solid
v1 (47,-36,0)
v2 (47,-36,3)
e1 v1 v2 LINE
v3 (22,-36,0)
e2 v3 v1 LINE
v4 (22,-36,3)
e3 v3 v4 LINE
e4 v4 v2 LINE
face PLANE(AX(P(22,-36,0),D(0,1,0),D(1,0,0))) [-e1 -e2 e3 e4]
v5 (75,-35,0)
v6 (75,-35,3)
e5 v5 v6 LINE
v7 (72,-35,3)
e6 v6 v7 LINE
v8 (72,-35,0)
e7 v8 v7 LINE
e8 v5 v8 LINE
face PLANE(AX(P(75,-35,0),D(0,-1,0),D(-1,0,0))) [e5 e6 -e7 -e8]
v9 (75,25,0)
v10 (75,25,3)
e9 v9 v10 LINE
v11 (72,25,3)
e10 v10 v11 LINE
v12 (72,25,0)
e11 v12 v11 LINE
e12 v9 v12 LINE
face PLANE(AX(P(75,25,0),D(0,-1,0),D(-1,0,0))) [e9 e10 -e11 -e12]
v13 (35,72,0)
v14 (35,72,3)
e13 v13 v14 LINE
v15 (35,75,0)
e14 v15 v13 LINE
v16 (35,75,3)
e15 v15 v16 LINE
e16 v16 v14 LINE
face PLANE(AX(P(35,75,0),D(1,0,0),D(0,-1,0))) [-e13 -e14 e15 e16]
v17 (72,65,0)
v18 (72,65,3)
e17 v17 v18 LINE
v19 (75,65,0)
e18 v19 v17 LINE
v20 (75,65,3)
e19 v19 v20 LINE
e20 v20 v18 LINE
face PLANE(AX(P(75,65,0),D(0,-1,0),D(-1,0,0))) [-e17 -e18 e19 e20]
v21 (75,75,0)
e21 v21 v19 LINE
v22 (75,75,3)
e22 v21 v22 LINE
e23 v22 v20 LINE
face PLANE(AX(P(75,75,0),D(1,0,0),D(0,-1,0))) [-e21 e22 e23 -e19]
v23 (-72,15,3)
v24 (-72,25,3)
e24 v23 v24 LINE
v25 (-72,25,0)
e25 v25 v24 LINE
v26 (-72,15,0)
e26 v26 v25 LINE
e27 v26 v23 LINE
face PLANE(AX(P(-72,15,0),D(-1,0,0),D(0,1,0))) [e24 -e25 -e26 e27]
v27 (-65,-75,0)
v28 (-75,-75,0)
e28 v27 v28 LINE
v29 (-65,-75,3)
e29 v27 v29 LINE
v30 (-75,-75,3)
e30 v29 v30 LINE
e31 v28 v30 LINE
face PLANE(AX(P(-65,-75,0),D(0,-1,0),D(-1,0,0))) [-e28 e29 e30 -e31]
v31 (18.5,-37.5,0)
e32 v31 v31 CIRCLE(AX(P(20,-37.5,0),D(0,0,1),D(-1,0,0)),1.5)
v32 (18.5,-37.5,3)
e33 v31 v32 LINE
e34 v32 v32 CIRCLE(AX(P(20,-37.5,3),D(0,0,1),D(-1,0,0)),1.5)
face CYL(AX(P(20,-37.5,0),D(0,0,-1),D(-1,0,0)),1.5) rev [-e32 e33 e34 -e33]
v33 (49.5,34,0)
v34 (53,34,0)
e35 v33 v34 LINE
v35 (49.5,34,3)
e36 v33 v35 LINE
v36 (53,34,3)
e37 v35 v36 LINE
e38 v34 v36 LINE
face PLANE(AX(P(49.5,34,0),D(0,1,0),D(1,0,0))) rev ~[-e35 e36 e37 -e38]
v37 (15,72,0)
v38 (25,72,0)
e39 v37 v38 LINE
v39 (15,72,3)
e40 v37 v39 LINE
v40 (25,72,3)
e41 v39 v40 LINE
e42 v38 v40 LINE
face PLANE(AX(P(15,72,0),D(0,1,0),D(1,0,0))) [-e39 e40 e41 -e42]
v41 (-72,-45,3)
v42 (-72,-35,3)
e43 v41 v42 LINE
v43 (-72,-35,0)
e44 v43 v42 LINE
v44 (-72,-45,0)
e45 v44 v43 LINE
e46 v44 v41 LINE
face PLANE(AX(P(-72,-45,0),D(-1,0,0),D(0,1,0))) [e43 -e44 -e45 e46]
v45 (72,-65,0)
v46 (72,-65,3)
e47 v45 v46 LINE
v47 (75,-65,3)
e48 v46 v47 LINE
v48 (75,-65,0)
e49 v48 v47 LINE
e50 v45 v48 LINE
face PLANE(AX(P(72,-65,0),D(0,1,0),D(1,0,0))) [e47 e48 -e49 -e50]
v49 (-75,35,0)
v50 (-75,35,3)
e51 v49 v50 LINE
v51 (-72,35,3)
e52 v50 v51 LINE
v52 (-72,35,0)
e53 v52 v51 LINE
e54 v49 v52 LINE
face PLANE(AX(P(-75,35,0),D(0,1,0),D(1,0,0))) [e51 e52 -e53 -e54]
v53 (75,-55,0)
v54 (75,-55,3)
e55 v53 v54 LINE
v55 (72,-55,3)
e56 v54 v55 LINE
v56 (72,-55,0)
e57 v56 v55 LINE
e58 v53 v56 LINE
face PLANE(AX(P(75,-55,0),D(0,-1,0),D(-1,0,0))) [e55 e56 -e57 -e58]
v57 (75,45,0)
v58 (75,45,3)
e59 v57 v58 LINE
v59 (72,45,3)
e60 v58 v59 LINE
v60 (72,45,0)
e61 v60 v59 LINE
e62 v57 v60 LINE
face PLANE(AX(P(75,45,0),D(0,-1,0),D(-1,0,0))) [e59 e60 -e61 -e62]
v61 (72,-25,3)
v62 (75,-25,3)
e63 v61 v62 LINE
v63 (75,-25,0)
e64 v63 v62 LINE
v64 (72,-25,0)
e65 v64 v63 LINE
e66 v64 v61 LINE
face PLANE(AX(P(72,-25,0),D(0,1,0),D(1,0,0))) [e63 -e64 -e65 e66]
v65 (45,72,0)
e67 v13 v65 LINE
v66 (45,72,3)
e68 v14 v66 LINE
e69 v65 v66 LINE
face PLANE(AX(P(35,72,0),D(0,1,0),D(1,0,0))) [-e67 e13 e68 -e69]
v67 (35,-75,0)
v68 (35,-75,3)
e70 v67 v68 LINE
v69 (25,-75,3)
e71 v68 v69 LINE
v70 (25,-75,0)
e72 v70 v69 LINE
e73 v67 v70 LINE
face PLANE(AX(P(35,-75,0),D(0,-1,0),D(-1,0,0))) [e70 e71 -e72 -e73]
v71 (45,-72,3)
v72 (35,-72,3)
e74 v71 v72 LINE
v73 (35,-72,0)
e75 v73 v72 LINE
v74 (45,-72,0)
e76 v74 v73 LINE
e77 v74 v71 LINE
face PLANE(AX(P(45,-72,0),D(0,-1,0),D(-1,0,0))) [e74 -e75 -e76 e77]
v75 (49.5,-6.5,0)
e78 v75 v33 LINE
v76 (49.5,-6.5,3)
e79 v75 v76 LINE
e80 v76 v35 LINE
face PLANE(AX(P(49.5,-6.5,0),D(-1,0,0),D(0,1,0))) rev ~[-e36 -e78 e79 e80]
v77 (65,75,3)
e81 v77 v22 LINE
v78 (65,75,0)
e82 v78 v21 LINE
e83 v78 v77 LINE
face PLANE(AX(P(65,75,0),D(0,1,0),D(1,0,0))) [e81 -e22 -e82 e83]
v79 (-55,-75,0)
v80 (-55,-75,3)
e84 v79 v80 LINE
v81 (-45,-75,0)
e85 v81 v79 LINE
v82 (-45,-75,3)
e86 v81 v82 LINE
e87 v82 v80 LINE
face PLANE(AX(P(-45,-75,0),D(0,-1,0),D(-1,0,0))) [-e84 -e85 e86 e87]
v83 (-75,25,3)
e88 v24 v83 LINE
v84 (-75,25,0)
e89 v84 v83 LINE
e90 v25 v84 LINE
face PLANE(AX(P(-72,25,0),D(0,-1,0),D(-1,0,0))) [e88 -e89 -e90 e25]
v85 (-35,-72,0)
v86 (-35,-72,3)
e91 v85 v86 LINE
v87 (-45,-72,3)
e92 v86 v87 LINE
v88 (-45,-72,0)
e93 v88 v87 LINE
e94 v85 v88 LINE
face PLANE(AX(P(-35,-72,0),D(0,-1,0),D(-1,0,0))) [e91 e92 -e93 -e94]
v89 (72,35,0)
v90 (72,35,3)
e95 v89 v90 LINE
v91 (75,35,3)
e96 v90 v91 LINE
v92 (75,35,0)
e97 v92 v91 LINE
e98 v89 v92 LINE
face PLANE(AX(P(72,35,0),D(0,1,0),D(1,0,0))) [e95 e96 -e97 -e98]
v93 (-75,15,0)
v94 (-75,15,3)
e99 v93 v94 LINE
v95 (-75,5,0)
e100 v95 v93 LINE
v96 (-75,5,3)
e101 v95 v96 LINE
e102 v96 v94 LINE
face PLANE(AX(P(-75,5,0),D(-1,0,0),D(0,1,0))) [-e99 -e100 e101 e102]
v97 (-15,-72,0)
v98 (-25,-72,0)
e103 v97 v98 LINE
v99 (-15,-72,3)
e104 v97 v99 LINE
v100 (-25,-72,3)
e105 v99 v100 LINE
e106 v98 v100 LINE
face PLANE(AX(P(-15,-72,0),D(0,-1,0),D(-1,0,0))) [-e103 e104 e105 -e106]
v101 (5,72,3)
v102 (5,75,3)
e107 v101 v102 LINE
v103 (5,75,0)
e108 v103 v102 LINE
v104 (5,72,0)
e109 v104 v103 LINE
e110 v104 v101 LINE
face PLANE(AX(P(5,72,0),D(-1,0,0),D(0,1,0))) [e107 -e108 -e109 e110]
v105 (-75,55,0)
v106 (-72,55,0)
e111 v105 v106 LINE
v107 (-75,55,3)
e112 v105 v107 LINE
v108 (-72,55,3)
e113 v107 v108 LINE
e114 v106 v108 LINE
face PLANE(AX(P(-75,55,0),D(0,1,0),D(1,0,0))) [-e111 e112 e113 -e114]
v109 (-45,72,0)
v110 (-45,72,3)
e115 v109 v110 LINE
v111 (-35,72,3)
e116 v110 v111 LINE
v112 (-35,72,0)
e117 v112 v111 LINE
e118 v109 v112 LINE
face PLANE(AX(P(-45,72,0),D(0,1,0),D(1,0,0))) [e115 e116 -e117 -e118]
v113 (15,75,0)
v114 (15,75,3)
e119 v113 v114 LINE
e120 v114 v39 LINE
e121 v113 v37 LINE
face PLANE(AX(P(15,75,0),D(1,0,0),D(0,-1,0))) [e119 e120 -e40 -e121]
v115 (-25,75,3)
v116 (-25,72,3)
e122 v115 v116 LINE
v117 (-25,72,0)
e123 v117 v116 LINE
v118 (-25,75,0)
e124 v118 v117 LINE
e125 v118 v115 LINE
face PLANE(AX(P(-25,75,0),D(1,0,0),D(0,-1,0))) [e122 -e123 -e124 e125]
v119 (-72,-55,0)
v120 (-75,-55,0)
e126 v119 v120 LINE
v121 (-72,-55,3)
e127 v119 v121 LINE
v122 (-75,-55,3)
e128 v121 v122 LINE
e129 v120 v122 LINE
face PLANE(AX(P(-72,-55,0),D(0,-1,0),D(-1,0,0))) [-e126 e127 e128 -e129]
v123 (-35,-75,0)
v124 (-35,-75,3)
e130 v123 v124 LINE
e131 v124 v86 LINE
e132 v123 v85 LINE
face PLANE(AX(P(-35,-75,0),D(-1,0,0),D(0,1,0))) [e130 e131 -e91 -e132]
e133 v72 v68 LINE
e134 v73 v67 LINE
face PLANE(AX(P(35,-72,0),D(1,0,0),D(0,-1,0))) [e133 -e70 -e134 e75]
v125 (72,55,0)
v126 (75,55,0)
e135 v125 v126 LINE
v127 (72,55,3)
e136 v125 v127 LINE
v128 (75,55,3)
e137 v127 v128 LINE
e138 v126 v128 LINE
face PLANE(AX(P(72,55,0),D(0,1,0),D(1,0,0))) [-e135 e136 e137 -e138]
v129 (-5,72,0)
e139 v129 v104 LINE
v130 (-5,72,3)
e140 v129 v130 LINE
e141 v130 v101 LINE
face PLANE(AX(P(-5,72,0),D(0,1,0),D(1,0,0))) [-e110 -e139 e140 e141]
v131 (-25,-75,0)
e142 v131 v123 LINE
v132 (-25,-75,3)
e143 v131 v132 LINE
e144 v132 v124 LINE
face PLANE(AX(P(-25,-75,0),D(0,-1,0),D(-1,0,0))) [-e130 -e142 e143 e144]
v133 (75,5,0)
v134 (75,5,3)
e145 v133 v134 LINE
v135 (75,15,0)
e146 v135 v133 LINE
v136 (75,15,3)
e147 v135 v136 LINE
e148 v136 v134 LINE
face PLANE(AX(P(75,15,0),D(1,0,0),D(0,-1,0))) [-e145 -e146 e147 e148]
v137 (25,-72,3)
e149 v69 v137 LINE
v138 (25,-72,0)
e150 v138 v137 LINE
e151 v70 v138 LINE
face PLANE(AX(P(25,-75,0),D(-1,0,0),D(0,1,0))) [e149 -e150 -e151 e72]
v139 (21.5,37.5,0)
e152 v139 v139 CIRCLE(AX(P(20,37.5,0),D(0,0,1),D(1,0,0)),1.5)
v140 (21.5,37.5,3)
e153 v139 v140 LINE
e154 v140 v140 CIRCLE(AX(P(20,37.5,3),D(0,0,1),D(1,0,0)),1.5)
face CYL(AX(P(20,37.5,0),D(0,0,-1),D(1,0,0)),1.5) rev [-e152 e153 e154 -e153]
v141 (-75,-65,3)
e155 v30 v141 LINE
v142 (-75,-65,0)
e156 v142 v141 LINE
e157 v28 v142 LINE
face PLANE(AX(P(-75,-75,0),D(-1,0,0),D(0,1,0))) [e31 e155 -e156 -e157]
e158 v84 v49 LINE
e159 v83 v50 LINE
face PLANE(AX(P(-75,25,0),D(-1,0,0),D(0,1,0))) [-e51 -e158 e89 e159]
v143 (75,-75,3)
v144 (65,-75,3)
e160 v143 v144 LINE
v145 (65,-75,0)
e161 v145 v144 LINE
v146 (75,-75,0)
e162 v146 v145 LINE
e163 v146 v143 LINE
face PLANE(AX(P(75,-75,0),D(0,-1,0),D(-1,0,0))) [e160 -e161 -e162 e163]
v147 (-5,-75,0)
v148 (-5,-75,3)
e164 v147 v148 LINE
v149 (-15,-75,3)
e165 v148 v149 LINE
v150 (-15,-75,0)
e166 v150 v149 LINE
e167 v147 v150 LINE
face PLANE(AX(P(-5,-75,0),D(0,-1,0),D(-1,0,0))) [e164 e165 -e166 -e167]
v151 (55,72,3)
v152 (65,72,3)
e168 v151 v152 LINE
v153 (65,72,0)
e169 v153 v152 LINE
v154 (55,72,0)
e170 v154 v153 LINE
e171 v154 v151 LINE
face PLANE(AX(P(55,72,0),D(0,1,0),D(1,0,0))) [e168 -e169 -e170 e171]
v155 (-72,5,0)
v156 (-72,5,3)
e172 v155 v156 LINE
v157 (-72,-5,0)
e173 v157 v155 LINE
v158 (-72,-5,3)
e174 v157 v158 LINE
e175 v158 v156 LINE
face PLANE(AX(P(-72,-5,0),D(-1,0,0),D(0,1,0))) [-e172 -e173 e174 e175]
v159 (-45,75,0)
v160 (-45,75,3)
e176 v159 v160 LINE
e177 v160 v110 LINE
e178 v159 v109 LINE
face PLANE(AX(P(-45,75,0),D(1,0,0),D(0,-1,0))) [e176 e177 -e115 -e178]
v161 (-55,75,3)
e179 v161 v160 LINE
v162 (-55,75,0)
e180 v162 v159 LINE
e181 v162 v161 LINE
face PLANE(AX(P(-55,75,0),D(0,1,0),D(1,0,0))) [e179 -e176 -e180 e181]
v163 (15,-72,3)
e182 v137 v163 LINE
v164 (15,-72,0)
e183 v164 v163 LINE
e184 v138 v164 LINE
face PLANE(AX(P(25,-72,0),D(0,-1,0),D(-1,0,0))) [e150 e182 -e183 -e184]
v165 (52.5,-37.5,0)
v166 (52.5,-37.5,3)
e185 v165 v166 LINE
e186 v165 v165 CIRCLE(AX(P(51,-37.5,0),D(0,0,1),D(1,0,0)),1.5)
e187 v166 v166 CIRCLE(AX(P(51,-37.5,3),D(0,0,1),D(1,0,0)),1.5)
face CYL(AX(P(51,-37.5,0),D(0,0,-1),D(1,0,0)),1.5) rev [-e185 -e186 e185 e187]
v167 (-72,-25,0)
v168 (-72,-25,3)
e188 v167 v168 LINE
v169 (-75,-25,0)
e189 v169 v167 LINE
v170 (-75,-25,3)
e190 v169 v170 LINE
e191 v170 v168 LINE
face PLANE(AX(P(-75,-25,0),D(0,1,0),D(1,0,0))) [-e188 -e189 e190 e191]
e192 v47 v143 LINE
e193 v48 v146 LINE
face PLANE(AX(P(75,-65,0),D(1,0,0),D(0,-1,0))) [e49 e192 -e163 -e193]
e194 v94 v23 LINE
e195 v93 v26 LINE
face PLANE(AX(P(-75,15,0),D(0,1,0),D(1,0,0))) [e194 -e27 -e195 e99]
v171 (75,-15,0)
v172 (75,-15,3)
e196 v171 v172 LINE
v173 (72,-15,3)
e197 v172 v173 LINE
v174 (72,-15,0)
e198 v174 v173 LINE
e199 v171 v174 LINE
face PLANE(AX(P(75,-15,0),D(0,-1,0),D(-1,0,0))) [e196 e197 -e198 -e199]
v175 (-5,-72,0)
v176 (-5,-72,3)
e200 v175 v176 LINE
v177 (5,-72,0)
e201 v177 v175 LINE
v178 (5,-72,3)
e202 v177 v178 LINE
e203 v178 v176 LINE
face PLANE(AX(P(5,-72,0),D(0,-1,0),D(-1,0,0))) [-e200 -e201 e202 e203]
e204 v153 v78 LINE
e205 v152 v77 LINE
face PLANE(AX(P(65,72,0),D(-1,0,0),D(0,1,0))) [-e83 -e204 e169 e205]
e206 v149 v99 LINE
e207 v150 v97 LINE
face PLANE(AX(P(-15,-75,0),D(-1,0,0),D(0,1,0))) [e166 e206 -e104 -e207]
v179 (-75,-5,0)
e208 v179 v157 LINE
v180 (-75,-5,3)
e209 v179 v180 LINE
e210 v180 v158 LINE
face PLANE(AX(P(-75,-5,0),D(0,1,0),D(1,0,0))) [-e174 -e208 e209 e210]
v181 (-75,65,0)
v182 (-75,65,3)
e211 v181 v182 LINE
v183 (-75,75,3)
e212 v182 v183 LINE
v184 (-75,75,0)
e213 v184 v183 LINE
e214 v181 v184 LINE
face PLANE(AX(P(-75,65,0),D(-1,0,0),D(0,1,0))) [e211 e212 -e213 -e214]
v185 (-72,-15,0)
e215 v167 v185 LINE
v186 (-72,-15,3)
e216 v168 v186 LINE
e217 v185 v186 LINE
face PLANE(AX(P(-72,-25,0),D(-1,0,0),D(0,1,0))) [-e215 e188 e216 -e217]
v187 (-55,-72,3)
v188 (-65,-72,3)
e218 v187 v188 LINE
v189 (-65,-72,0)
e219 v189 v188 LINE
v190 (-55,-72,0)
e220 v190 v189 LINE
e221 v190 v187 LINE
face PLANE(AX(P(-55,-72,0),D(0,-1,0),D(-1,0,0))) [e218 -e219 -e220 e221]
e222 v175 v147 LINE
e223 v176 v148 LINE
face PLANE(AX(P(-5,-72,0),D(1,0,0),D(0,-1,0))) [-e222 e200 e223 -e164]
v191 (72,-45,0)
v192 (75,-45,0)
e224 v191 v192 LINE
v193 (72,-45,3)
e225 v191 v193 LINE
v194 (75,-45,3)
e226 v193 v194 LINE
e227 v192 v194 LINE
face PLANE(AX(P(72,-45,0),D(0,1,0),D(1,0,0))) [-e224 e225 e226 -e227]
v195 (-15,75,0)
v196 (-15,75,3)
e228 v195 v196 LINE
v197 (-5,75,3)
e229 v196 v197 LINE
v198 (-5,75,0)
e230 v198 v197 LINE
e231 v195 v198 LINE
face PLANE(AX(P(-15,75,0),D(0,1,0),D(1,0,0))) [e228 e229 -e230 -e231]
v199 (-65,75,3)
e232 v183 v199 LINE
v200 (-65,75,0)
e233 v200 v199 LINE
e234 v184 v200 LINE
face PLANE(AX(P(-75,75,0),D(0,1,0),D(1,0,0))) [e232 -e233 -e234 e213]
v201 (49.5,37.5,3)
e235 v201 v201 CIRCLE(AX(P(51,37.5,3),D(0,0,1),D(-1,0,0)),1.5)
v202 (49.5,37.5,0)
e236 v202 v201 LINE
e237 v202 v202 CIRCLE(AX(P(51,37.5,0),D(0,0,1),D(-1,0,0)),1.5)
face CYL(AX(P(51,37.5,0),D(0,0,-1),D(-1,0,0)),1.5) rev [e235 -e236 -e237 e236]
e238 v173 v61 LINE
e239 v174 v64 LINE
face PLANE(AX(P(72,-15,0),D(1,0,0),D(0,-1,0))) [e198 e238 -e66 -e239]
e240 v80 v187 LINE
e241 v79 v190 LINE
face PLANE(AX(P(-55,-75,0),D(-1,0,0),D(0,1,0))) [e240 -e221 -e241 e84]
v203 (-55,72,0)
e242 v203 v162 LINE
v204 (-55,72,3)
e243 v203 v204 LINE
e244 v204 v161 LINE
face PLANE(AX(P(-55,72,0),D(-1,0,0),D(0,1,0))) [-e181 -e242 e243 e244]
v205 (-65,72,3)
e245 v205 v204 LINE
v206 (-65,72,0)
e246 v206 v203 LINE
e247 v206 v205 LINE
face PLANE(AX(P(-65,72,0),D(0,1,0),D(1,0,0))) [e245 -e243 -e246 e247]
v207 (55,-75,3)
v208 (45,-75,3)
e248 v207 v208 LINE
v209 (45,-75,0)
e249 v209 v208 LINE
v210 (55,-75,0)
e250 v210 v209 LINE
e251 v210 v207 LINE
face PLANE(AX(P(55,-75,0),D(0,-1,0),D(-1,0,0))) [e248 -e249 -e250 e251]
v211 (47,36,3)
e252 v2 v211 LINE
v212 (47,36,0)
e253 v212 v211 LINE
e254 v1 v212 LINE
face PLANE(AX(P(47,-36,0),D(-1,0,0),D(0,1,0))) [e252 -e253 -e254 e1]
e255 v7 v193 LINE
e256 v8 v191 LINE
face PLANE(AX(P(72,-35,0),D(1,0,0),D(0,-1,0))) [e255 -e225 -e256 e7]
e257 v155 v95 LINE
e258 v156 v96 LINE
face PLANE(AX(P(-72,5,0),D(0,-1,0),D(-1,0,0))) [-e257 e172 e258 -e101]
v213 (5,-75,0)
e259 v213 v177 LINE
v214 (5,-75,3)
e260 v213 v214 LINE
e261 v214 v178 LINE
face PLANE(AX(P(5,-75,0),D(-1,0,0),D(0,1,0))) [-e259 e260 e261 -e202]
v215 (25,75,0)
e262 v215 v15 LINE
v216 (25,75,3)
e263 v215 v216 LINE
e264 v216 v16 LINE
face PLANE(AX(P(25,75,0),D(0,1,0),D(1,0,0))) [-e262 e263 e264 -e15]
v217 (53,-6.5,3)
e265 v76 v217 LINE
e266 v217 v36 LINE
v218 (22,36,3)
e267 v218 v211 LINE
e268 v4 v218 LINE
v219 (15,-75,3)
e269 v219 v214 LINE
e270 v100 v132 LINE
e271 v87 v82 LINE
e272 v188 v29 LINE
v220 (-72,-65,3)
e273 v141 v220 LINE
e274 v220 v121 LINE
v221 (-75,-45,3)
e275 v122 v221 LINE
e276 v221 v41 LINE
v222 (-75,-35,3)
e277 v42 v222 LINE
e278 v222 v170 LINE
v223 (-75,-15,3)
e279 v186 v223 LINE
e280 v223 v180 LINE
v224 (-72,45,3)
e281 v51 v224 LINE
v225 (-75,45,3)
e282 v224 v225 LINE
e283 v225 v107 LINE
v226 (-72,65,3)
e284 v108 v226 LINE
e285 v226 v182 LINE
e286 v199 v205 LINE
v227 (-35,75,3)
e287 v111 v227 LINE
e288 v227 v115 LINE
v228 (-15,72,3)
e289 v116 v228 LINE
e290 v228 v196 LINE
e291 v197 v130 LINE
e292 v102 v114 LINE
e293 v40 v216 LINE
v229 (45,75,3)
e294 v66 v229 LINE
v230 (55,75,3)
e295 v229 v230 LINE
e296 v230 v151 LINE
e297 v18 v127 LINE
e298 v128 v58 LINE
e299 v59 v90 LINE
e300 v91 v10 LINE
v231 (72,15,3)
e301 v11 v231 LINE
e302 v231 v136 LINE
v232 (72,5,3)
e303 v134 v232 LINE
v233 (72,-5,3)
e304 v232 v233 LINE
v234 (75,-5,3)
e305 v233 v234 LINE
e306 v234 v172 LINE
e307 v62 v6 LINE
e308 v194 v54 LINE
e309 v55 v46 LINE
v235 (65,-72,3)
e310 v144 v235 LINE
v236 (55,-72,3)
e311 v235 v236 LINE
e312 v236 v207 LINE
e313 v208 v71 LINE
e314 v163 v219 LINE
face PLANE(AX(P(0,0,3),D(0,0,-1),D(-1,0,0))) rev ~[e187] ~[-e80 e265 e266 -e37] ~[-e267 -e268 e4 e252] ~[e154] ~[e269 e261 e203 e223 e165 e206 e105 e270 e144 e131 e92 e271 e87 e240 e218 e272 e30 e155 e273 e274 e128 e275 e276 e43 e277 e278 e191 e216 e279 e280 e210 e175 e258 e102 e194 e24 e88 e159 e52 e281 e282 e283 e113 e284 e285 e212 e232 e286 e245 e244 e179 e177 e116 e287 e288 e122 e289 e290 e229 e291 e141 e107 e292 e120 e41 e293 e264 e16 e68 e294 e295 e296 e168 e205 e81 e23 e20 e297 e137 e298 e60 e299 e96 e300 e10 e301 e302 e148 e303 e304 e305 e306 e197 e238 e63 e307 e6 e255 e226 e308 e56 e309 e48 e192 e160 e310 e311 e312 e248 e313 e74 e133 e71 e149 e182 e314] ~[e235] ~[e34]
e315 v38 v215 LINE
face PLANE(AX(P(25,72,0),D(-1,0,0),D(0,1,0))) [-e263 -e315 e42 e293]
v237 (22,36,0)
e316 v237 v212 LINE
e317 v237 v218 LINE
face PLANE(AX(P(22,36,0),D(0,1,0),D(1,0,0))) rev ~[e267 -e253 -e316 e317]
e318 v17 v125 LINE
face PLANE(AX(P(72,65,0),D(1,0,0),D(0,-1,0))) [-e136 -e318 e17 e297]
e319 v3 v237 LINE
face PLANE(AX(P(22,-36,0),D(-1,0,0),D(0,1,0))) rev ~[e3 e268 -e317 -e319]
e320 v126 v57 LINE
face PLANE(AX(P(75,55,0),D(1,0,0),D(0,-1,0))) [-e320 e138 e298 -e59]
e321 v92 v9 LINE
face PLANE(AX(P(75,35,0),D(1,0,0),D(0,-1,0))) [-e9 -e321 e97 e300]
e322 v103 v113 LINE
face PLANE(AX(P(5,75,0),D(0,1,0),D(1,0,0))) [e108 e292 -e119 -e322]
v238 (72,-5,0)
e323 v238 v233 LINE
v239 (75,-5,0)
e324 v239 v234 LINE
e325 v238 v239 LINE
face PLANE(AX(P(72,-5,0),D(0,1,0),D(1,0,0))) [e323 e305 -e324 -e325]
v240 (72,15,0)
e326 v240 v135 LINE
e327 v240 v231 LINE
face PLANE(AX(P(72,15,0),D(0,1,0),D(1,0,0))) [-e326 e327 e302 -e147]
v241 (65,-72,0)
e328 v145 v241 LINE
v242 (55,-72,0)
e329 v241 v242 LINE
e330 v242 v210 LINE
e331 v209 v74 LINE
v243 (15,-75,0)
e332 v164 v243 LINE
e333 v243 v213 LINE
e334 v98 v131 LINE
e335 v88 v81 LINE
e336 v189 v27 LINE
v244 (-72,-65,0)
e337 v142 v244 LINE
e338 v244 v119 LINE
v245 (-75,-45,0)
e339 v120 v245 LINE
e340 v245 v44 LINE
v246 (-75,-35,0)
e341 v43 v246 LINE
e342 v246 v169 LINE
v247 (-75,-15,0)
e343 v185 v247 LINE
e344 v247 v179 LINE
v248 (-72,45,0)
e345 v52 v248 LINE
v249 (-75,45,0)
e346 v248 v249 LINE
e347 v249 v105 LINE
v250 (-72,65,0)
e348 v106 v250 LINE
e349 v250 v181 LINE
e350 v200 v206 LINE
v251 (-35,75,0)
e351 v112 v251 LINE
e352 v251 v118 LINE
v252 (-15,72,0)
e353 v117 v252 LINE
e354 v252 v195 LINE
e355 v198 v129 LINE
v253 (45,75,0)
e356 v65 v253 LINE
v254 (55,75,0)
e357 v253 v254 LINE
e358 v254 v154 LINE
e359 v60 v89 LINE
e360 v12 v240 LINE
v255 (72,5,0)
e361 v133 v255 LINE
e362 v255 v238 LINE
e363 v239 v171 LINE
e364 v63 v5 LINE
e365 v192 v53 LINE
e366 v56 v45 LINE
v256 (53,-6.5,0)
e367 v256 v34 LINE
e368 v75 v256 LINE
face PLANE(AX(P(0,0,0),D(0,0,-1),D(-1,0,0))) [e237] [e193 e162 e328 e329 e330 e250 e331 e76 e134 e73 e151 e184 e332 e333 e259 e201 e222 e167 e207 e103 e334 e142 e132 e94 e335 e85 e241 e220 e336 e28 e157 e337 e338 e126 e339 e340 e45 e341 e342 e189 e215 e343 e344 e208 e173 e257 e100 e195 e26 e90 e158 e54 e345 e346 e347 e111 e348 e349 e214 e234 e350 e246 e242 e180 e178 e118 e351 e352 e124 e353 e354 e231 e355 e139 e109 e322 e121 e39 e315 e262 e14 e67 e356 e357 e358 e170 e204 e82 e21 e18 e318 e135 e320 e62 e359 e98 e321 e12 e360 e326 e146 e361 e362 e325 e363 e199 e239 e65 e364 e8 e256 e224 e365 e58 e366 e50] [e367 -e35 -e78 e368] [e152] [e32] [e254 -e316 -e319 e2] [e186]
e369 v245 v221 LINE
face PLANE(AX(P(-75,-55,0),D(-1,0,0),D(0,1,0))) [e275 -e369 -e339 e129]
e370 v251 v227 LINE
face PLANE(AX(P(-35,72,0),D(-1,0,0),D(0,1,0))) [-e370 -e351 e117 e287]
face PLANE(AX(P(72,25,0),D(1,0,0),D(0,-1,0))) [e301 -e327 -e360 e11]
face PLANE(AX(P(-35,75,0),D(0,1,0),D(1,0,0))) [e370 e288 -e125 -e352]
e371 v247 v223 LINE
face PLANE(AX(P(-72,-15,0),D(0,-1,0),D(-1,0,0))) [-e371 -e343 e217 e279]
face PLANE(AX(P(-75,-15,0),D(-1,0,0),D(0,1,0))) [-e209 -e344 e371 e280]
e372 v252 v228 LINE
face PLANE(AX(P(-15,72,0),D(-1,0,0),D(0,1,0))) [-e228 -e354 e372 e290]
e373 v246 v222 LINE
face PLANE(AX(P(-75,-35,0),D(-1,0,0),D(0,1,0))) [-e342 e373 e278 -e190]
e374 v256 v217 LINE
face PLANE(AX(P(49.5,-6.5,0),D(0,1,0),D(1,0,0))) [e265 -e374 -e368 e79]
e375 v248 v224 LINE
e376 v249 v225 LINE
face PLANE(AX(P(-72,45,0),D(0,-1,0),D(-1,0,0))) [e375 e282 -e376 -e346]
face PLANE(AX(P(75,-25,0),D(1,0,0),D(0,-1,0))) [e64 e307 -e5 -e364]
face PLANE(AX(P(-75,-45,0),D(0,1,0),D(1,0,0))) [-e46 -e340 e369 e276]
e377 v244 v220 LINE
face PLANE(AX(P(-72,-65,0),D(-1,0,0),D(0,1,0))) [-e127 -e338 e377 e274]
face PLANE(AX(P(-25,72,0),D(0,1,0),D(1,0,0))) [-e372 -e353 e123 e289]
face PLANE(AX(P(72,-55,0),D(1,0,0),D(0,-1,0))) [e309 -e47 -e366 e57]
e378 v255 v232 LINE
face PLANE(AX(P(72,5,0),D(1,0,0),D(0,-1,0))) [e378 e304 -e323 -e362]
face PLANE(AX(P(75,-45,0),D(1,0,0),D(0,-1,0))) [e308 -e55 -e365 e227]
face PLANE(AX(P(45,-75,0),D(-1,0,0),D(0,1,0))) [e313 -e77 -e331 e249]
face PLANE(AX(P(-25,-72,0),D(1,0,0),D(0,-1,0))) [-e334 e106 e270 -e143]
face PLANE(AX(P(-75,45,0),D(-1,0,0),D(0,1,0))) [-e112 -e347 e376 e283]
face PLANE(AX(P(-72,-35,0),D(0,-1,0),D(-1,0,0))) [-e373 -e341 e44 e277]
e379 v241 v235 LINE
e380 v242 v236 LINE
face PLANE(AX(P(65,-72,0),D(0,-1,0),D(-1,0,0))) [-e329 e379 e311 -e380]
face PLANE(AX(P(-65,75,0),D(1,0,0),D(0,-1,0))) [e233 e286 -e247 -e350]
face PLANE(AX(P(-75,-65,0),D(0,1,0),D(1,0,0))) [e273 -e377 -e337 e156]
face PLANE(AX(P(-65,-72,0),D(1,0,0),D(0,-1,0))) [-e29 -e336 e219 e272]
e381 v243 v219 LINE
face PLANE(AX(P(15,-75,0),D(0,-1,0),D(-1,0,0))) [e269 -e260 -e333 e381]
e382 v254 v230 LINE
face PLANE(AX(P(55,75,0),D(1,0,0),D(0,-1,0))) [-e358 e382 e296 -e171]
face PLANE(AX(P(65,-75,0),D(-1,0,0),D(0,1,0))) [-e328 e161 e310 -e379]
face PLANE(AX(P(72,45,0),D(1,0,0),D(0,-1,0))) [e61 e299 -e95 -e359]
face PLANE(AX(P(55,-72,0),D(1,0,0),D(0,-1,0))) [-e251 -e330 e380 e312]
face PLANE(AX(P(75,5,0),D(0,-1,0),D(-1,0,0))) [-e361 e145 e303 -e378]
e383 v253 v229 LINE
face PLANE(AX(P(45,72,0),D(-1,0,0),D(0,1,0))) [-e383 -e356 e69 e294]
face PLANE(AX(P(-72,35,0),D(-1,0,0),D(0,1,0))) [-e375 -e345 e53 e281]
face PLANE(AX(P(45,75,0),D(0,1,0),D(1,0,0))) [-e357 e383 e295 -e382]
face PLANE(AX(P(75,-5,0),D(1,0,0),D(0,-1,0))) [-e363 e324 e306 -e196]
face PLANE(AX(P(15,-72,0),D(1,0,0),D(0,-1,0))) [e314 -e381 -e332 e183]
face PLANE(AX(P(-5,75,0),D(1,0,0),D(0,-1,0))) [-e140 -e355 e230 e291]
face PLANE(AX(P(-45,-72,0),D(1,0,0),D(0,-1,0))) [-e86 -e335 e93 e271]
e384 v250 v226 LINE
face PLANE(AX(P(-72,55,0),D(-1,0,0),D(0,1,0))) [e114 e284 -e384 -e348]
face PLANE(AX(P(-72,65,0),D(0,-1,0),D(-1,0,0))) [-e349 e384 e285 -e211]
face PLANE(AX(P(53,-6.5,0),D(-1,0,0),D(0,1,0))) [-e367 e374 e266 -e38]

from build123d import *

# Parameters (mm, degrees)
CROQUIS1_R              = 1.5
CROQUIS1_W              = 25
CROQUIS1_H              = 72
CROQUIS1_W_2            = 3.5
CROQUIS1_H_2            = 40.5
SALIENTE_EXTRUIR1_DEPTH = 3


with BuildPart() as part:
    # Croquis1 → Saliente-Extruir1 (new body)
    with BuildSketch(Plane.XY):
        Polygon((-75, -75), (-75, -65), (-72, -65), (-72, -55), (-75, -55), (-75, -45), (-72, -45), (-72, -35), (-75, -35), (-75, -25), (-72, -25), (-72, -15), (-75, -15), (-75, -5), (-72, -5), (-72, 5), (-75, 5), (-75, 15), (-72, 15), (-72, 25), (-75, 25), (-75, 35), (-72, 35), (-72, 45), (-75, 45), (-75, 55), (-72, 55), (-72, 65), (-75, 65), (-75, 75), (-65, 75), (-65, 72), (-55, 72), (-55, 75), (-45, 75), (-45, 72), (-35, 72), (-35, 75), (-25, 75), (-25, 72), (-15, 72), (-15, 75), (-5, 75), (-5, 72), (5, 72), (5, 75), (15, 75), (15, 72), (25, 72), (25, 75), (35, 75), (35, 72), (45, 72), (45, 75), (55, 75), (55, 72), (65, 72), (65, 75), (75, 75), (75, 65), (72, 65), (72, 55), (75, 55), (75, 45), (72, 45), (72, 35), (75, 35), (75, 25), (72, 25), (72, 15), (75, 15), (75, 5), (72, 5), (72, -5), (75, -5), (75, -15), (72, -15), (72, -25), (75, -25), (75, -35), (72, -35), (72, -45), (75, -45), (75, -55), (72, -55), (72, -65), (75, -65), (75, -75), (65, -75), (65, -72), (55, -72), (55, -75), (45, -75), (45, -72), (35, -72), (35, -75), (25, -75), (25, -72), (15, -72), (15, -75), (5, -75), (5, -72), (-5, -72), (-5, -75), (-15, -75), (-15, -72), (-25, -72), (-25, -75), (-35, -75), (-35, -72), (-45, -72), (-45, -75), (-55, -75), (-55, -72), (-65, -72), (-65, -75), align=None)
        with Locations((20, 37.5)):
            Circle(CROQUIS1_R, mode=Mode.SUBTRACT)
        with Locations(Location((51, 37.5, 0), (0, 0, 180))):
            Circle(CROQUIS1_R, mode=Mode.SUBTRACT)
        with Locations((51, -37.5)):
            Circle(CROQUIS1_R, mode=Mode.SUBTRACT)
        with Locations(Location((20, -37.5, 0), (0, 0, 180))):
            Circle(CROQUIS1_R, mode=Mode.SUBTRACT)
        with Locations((34.5, 0)):
            Rectangle(CROQUIS1_W, CROQUIS1_H, mode=Mode.SUBTRACT)
        with Locations((51.25, 13.75)):
            Rectangle(CROQUIS1_W_2, CROQUIS1_H_2, mode=Mode.SUBTRACT)
    extrude(amount=SALIENTE_EXTRUIR1_DEPTH)


solid = part.part
